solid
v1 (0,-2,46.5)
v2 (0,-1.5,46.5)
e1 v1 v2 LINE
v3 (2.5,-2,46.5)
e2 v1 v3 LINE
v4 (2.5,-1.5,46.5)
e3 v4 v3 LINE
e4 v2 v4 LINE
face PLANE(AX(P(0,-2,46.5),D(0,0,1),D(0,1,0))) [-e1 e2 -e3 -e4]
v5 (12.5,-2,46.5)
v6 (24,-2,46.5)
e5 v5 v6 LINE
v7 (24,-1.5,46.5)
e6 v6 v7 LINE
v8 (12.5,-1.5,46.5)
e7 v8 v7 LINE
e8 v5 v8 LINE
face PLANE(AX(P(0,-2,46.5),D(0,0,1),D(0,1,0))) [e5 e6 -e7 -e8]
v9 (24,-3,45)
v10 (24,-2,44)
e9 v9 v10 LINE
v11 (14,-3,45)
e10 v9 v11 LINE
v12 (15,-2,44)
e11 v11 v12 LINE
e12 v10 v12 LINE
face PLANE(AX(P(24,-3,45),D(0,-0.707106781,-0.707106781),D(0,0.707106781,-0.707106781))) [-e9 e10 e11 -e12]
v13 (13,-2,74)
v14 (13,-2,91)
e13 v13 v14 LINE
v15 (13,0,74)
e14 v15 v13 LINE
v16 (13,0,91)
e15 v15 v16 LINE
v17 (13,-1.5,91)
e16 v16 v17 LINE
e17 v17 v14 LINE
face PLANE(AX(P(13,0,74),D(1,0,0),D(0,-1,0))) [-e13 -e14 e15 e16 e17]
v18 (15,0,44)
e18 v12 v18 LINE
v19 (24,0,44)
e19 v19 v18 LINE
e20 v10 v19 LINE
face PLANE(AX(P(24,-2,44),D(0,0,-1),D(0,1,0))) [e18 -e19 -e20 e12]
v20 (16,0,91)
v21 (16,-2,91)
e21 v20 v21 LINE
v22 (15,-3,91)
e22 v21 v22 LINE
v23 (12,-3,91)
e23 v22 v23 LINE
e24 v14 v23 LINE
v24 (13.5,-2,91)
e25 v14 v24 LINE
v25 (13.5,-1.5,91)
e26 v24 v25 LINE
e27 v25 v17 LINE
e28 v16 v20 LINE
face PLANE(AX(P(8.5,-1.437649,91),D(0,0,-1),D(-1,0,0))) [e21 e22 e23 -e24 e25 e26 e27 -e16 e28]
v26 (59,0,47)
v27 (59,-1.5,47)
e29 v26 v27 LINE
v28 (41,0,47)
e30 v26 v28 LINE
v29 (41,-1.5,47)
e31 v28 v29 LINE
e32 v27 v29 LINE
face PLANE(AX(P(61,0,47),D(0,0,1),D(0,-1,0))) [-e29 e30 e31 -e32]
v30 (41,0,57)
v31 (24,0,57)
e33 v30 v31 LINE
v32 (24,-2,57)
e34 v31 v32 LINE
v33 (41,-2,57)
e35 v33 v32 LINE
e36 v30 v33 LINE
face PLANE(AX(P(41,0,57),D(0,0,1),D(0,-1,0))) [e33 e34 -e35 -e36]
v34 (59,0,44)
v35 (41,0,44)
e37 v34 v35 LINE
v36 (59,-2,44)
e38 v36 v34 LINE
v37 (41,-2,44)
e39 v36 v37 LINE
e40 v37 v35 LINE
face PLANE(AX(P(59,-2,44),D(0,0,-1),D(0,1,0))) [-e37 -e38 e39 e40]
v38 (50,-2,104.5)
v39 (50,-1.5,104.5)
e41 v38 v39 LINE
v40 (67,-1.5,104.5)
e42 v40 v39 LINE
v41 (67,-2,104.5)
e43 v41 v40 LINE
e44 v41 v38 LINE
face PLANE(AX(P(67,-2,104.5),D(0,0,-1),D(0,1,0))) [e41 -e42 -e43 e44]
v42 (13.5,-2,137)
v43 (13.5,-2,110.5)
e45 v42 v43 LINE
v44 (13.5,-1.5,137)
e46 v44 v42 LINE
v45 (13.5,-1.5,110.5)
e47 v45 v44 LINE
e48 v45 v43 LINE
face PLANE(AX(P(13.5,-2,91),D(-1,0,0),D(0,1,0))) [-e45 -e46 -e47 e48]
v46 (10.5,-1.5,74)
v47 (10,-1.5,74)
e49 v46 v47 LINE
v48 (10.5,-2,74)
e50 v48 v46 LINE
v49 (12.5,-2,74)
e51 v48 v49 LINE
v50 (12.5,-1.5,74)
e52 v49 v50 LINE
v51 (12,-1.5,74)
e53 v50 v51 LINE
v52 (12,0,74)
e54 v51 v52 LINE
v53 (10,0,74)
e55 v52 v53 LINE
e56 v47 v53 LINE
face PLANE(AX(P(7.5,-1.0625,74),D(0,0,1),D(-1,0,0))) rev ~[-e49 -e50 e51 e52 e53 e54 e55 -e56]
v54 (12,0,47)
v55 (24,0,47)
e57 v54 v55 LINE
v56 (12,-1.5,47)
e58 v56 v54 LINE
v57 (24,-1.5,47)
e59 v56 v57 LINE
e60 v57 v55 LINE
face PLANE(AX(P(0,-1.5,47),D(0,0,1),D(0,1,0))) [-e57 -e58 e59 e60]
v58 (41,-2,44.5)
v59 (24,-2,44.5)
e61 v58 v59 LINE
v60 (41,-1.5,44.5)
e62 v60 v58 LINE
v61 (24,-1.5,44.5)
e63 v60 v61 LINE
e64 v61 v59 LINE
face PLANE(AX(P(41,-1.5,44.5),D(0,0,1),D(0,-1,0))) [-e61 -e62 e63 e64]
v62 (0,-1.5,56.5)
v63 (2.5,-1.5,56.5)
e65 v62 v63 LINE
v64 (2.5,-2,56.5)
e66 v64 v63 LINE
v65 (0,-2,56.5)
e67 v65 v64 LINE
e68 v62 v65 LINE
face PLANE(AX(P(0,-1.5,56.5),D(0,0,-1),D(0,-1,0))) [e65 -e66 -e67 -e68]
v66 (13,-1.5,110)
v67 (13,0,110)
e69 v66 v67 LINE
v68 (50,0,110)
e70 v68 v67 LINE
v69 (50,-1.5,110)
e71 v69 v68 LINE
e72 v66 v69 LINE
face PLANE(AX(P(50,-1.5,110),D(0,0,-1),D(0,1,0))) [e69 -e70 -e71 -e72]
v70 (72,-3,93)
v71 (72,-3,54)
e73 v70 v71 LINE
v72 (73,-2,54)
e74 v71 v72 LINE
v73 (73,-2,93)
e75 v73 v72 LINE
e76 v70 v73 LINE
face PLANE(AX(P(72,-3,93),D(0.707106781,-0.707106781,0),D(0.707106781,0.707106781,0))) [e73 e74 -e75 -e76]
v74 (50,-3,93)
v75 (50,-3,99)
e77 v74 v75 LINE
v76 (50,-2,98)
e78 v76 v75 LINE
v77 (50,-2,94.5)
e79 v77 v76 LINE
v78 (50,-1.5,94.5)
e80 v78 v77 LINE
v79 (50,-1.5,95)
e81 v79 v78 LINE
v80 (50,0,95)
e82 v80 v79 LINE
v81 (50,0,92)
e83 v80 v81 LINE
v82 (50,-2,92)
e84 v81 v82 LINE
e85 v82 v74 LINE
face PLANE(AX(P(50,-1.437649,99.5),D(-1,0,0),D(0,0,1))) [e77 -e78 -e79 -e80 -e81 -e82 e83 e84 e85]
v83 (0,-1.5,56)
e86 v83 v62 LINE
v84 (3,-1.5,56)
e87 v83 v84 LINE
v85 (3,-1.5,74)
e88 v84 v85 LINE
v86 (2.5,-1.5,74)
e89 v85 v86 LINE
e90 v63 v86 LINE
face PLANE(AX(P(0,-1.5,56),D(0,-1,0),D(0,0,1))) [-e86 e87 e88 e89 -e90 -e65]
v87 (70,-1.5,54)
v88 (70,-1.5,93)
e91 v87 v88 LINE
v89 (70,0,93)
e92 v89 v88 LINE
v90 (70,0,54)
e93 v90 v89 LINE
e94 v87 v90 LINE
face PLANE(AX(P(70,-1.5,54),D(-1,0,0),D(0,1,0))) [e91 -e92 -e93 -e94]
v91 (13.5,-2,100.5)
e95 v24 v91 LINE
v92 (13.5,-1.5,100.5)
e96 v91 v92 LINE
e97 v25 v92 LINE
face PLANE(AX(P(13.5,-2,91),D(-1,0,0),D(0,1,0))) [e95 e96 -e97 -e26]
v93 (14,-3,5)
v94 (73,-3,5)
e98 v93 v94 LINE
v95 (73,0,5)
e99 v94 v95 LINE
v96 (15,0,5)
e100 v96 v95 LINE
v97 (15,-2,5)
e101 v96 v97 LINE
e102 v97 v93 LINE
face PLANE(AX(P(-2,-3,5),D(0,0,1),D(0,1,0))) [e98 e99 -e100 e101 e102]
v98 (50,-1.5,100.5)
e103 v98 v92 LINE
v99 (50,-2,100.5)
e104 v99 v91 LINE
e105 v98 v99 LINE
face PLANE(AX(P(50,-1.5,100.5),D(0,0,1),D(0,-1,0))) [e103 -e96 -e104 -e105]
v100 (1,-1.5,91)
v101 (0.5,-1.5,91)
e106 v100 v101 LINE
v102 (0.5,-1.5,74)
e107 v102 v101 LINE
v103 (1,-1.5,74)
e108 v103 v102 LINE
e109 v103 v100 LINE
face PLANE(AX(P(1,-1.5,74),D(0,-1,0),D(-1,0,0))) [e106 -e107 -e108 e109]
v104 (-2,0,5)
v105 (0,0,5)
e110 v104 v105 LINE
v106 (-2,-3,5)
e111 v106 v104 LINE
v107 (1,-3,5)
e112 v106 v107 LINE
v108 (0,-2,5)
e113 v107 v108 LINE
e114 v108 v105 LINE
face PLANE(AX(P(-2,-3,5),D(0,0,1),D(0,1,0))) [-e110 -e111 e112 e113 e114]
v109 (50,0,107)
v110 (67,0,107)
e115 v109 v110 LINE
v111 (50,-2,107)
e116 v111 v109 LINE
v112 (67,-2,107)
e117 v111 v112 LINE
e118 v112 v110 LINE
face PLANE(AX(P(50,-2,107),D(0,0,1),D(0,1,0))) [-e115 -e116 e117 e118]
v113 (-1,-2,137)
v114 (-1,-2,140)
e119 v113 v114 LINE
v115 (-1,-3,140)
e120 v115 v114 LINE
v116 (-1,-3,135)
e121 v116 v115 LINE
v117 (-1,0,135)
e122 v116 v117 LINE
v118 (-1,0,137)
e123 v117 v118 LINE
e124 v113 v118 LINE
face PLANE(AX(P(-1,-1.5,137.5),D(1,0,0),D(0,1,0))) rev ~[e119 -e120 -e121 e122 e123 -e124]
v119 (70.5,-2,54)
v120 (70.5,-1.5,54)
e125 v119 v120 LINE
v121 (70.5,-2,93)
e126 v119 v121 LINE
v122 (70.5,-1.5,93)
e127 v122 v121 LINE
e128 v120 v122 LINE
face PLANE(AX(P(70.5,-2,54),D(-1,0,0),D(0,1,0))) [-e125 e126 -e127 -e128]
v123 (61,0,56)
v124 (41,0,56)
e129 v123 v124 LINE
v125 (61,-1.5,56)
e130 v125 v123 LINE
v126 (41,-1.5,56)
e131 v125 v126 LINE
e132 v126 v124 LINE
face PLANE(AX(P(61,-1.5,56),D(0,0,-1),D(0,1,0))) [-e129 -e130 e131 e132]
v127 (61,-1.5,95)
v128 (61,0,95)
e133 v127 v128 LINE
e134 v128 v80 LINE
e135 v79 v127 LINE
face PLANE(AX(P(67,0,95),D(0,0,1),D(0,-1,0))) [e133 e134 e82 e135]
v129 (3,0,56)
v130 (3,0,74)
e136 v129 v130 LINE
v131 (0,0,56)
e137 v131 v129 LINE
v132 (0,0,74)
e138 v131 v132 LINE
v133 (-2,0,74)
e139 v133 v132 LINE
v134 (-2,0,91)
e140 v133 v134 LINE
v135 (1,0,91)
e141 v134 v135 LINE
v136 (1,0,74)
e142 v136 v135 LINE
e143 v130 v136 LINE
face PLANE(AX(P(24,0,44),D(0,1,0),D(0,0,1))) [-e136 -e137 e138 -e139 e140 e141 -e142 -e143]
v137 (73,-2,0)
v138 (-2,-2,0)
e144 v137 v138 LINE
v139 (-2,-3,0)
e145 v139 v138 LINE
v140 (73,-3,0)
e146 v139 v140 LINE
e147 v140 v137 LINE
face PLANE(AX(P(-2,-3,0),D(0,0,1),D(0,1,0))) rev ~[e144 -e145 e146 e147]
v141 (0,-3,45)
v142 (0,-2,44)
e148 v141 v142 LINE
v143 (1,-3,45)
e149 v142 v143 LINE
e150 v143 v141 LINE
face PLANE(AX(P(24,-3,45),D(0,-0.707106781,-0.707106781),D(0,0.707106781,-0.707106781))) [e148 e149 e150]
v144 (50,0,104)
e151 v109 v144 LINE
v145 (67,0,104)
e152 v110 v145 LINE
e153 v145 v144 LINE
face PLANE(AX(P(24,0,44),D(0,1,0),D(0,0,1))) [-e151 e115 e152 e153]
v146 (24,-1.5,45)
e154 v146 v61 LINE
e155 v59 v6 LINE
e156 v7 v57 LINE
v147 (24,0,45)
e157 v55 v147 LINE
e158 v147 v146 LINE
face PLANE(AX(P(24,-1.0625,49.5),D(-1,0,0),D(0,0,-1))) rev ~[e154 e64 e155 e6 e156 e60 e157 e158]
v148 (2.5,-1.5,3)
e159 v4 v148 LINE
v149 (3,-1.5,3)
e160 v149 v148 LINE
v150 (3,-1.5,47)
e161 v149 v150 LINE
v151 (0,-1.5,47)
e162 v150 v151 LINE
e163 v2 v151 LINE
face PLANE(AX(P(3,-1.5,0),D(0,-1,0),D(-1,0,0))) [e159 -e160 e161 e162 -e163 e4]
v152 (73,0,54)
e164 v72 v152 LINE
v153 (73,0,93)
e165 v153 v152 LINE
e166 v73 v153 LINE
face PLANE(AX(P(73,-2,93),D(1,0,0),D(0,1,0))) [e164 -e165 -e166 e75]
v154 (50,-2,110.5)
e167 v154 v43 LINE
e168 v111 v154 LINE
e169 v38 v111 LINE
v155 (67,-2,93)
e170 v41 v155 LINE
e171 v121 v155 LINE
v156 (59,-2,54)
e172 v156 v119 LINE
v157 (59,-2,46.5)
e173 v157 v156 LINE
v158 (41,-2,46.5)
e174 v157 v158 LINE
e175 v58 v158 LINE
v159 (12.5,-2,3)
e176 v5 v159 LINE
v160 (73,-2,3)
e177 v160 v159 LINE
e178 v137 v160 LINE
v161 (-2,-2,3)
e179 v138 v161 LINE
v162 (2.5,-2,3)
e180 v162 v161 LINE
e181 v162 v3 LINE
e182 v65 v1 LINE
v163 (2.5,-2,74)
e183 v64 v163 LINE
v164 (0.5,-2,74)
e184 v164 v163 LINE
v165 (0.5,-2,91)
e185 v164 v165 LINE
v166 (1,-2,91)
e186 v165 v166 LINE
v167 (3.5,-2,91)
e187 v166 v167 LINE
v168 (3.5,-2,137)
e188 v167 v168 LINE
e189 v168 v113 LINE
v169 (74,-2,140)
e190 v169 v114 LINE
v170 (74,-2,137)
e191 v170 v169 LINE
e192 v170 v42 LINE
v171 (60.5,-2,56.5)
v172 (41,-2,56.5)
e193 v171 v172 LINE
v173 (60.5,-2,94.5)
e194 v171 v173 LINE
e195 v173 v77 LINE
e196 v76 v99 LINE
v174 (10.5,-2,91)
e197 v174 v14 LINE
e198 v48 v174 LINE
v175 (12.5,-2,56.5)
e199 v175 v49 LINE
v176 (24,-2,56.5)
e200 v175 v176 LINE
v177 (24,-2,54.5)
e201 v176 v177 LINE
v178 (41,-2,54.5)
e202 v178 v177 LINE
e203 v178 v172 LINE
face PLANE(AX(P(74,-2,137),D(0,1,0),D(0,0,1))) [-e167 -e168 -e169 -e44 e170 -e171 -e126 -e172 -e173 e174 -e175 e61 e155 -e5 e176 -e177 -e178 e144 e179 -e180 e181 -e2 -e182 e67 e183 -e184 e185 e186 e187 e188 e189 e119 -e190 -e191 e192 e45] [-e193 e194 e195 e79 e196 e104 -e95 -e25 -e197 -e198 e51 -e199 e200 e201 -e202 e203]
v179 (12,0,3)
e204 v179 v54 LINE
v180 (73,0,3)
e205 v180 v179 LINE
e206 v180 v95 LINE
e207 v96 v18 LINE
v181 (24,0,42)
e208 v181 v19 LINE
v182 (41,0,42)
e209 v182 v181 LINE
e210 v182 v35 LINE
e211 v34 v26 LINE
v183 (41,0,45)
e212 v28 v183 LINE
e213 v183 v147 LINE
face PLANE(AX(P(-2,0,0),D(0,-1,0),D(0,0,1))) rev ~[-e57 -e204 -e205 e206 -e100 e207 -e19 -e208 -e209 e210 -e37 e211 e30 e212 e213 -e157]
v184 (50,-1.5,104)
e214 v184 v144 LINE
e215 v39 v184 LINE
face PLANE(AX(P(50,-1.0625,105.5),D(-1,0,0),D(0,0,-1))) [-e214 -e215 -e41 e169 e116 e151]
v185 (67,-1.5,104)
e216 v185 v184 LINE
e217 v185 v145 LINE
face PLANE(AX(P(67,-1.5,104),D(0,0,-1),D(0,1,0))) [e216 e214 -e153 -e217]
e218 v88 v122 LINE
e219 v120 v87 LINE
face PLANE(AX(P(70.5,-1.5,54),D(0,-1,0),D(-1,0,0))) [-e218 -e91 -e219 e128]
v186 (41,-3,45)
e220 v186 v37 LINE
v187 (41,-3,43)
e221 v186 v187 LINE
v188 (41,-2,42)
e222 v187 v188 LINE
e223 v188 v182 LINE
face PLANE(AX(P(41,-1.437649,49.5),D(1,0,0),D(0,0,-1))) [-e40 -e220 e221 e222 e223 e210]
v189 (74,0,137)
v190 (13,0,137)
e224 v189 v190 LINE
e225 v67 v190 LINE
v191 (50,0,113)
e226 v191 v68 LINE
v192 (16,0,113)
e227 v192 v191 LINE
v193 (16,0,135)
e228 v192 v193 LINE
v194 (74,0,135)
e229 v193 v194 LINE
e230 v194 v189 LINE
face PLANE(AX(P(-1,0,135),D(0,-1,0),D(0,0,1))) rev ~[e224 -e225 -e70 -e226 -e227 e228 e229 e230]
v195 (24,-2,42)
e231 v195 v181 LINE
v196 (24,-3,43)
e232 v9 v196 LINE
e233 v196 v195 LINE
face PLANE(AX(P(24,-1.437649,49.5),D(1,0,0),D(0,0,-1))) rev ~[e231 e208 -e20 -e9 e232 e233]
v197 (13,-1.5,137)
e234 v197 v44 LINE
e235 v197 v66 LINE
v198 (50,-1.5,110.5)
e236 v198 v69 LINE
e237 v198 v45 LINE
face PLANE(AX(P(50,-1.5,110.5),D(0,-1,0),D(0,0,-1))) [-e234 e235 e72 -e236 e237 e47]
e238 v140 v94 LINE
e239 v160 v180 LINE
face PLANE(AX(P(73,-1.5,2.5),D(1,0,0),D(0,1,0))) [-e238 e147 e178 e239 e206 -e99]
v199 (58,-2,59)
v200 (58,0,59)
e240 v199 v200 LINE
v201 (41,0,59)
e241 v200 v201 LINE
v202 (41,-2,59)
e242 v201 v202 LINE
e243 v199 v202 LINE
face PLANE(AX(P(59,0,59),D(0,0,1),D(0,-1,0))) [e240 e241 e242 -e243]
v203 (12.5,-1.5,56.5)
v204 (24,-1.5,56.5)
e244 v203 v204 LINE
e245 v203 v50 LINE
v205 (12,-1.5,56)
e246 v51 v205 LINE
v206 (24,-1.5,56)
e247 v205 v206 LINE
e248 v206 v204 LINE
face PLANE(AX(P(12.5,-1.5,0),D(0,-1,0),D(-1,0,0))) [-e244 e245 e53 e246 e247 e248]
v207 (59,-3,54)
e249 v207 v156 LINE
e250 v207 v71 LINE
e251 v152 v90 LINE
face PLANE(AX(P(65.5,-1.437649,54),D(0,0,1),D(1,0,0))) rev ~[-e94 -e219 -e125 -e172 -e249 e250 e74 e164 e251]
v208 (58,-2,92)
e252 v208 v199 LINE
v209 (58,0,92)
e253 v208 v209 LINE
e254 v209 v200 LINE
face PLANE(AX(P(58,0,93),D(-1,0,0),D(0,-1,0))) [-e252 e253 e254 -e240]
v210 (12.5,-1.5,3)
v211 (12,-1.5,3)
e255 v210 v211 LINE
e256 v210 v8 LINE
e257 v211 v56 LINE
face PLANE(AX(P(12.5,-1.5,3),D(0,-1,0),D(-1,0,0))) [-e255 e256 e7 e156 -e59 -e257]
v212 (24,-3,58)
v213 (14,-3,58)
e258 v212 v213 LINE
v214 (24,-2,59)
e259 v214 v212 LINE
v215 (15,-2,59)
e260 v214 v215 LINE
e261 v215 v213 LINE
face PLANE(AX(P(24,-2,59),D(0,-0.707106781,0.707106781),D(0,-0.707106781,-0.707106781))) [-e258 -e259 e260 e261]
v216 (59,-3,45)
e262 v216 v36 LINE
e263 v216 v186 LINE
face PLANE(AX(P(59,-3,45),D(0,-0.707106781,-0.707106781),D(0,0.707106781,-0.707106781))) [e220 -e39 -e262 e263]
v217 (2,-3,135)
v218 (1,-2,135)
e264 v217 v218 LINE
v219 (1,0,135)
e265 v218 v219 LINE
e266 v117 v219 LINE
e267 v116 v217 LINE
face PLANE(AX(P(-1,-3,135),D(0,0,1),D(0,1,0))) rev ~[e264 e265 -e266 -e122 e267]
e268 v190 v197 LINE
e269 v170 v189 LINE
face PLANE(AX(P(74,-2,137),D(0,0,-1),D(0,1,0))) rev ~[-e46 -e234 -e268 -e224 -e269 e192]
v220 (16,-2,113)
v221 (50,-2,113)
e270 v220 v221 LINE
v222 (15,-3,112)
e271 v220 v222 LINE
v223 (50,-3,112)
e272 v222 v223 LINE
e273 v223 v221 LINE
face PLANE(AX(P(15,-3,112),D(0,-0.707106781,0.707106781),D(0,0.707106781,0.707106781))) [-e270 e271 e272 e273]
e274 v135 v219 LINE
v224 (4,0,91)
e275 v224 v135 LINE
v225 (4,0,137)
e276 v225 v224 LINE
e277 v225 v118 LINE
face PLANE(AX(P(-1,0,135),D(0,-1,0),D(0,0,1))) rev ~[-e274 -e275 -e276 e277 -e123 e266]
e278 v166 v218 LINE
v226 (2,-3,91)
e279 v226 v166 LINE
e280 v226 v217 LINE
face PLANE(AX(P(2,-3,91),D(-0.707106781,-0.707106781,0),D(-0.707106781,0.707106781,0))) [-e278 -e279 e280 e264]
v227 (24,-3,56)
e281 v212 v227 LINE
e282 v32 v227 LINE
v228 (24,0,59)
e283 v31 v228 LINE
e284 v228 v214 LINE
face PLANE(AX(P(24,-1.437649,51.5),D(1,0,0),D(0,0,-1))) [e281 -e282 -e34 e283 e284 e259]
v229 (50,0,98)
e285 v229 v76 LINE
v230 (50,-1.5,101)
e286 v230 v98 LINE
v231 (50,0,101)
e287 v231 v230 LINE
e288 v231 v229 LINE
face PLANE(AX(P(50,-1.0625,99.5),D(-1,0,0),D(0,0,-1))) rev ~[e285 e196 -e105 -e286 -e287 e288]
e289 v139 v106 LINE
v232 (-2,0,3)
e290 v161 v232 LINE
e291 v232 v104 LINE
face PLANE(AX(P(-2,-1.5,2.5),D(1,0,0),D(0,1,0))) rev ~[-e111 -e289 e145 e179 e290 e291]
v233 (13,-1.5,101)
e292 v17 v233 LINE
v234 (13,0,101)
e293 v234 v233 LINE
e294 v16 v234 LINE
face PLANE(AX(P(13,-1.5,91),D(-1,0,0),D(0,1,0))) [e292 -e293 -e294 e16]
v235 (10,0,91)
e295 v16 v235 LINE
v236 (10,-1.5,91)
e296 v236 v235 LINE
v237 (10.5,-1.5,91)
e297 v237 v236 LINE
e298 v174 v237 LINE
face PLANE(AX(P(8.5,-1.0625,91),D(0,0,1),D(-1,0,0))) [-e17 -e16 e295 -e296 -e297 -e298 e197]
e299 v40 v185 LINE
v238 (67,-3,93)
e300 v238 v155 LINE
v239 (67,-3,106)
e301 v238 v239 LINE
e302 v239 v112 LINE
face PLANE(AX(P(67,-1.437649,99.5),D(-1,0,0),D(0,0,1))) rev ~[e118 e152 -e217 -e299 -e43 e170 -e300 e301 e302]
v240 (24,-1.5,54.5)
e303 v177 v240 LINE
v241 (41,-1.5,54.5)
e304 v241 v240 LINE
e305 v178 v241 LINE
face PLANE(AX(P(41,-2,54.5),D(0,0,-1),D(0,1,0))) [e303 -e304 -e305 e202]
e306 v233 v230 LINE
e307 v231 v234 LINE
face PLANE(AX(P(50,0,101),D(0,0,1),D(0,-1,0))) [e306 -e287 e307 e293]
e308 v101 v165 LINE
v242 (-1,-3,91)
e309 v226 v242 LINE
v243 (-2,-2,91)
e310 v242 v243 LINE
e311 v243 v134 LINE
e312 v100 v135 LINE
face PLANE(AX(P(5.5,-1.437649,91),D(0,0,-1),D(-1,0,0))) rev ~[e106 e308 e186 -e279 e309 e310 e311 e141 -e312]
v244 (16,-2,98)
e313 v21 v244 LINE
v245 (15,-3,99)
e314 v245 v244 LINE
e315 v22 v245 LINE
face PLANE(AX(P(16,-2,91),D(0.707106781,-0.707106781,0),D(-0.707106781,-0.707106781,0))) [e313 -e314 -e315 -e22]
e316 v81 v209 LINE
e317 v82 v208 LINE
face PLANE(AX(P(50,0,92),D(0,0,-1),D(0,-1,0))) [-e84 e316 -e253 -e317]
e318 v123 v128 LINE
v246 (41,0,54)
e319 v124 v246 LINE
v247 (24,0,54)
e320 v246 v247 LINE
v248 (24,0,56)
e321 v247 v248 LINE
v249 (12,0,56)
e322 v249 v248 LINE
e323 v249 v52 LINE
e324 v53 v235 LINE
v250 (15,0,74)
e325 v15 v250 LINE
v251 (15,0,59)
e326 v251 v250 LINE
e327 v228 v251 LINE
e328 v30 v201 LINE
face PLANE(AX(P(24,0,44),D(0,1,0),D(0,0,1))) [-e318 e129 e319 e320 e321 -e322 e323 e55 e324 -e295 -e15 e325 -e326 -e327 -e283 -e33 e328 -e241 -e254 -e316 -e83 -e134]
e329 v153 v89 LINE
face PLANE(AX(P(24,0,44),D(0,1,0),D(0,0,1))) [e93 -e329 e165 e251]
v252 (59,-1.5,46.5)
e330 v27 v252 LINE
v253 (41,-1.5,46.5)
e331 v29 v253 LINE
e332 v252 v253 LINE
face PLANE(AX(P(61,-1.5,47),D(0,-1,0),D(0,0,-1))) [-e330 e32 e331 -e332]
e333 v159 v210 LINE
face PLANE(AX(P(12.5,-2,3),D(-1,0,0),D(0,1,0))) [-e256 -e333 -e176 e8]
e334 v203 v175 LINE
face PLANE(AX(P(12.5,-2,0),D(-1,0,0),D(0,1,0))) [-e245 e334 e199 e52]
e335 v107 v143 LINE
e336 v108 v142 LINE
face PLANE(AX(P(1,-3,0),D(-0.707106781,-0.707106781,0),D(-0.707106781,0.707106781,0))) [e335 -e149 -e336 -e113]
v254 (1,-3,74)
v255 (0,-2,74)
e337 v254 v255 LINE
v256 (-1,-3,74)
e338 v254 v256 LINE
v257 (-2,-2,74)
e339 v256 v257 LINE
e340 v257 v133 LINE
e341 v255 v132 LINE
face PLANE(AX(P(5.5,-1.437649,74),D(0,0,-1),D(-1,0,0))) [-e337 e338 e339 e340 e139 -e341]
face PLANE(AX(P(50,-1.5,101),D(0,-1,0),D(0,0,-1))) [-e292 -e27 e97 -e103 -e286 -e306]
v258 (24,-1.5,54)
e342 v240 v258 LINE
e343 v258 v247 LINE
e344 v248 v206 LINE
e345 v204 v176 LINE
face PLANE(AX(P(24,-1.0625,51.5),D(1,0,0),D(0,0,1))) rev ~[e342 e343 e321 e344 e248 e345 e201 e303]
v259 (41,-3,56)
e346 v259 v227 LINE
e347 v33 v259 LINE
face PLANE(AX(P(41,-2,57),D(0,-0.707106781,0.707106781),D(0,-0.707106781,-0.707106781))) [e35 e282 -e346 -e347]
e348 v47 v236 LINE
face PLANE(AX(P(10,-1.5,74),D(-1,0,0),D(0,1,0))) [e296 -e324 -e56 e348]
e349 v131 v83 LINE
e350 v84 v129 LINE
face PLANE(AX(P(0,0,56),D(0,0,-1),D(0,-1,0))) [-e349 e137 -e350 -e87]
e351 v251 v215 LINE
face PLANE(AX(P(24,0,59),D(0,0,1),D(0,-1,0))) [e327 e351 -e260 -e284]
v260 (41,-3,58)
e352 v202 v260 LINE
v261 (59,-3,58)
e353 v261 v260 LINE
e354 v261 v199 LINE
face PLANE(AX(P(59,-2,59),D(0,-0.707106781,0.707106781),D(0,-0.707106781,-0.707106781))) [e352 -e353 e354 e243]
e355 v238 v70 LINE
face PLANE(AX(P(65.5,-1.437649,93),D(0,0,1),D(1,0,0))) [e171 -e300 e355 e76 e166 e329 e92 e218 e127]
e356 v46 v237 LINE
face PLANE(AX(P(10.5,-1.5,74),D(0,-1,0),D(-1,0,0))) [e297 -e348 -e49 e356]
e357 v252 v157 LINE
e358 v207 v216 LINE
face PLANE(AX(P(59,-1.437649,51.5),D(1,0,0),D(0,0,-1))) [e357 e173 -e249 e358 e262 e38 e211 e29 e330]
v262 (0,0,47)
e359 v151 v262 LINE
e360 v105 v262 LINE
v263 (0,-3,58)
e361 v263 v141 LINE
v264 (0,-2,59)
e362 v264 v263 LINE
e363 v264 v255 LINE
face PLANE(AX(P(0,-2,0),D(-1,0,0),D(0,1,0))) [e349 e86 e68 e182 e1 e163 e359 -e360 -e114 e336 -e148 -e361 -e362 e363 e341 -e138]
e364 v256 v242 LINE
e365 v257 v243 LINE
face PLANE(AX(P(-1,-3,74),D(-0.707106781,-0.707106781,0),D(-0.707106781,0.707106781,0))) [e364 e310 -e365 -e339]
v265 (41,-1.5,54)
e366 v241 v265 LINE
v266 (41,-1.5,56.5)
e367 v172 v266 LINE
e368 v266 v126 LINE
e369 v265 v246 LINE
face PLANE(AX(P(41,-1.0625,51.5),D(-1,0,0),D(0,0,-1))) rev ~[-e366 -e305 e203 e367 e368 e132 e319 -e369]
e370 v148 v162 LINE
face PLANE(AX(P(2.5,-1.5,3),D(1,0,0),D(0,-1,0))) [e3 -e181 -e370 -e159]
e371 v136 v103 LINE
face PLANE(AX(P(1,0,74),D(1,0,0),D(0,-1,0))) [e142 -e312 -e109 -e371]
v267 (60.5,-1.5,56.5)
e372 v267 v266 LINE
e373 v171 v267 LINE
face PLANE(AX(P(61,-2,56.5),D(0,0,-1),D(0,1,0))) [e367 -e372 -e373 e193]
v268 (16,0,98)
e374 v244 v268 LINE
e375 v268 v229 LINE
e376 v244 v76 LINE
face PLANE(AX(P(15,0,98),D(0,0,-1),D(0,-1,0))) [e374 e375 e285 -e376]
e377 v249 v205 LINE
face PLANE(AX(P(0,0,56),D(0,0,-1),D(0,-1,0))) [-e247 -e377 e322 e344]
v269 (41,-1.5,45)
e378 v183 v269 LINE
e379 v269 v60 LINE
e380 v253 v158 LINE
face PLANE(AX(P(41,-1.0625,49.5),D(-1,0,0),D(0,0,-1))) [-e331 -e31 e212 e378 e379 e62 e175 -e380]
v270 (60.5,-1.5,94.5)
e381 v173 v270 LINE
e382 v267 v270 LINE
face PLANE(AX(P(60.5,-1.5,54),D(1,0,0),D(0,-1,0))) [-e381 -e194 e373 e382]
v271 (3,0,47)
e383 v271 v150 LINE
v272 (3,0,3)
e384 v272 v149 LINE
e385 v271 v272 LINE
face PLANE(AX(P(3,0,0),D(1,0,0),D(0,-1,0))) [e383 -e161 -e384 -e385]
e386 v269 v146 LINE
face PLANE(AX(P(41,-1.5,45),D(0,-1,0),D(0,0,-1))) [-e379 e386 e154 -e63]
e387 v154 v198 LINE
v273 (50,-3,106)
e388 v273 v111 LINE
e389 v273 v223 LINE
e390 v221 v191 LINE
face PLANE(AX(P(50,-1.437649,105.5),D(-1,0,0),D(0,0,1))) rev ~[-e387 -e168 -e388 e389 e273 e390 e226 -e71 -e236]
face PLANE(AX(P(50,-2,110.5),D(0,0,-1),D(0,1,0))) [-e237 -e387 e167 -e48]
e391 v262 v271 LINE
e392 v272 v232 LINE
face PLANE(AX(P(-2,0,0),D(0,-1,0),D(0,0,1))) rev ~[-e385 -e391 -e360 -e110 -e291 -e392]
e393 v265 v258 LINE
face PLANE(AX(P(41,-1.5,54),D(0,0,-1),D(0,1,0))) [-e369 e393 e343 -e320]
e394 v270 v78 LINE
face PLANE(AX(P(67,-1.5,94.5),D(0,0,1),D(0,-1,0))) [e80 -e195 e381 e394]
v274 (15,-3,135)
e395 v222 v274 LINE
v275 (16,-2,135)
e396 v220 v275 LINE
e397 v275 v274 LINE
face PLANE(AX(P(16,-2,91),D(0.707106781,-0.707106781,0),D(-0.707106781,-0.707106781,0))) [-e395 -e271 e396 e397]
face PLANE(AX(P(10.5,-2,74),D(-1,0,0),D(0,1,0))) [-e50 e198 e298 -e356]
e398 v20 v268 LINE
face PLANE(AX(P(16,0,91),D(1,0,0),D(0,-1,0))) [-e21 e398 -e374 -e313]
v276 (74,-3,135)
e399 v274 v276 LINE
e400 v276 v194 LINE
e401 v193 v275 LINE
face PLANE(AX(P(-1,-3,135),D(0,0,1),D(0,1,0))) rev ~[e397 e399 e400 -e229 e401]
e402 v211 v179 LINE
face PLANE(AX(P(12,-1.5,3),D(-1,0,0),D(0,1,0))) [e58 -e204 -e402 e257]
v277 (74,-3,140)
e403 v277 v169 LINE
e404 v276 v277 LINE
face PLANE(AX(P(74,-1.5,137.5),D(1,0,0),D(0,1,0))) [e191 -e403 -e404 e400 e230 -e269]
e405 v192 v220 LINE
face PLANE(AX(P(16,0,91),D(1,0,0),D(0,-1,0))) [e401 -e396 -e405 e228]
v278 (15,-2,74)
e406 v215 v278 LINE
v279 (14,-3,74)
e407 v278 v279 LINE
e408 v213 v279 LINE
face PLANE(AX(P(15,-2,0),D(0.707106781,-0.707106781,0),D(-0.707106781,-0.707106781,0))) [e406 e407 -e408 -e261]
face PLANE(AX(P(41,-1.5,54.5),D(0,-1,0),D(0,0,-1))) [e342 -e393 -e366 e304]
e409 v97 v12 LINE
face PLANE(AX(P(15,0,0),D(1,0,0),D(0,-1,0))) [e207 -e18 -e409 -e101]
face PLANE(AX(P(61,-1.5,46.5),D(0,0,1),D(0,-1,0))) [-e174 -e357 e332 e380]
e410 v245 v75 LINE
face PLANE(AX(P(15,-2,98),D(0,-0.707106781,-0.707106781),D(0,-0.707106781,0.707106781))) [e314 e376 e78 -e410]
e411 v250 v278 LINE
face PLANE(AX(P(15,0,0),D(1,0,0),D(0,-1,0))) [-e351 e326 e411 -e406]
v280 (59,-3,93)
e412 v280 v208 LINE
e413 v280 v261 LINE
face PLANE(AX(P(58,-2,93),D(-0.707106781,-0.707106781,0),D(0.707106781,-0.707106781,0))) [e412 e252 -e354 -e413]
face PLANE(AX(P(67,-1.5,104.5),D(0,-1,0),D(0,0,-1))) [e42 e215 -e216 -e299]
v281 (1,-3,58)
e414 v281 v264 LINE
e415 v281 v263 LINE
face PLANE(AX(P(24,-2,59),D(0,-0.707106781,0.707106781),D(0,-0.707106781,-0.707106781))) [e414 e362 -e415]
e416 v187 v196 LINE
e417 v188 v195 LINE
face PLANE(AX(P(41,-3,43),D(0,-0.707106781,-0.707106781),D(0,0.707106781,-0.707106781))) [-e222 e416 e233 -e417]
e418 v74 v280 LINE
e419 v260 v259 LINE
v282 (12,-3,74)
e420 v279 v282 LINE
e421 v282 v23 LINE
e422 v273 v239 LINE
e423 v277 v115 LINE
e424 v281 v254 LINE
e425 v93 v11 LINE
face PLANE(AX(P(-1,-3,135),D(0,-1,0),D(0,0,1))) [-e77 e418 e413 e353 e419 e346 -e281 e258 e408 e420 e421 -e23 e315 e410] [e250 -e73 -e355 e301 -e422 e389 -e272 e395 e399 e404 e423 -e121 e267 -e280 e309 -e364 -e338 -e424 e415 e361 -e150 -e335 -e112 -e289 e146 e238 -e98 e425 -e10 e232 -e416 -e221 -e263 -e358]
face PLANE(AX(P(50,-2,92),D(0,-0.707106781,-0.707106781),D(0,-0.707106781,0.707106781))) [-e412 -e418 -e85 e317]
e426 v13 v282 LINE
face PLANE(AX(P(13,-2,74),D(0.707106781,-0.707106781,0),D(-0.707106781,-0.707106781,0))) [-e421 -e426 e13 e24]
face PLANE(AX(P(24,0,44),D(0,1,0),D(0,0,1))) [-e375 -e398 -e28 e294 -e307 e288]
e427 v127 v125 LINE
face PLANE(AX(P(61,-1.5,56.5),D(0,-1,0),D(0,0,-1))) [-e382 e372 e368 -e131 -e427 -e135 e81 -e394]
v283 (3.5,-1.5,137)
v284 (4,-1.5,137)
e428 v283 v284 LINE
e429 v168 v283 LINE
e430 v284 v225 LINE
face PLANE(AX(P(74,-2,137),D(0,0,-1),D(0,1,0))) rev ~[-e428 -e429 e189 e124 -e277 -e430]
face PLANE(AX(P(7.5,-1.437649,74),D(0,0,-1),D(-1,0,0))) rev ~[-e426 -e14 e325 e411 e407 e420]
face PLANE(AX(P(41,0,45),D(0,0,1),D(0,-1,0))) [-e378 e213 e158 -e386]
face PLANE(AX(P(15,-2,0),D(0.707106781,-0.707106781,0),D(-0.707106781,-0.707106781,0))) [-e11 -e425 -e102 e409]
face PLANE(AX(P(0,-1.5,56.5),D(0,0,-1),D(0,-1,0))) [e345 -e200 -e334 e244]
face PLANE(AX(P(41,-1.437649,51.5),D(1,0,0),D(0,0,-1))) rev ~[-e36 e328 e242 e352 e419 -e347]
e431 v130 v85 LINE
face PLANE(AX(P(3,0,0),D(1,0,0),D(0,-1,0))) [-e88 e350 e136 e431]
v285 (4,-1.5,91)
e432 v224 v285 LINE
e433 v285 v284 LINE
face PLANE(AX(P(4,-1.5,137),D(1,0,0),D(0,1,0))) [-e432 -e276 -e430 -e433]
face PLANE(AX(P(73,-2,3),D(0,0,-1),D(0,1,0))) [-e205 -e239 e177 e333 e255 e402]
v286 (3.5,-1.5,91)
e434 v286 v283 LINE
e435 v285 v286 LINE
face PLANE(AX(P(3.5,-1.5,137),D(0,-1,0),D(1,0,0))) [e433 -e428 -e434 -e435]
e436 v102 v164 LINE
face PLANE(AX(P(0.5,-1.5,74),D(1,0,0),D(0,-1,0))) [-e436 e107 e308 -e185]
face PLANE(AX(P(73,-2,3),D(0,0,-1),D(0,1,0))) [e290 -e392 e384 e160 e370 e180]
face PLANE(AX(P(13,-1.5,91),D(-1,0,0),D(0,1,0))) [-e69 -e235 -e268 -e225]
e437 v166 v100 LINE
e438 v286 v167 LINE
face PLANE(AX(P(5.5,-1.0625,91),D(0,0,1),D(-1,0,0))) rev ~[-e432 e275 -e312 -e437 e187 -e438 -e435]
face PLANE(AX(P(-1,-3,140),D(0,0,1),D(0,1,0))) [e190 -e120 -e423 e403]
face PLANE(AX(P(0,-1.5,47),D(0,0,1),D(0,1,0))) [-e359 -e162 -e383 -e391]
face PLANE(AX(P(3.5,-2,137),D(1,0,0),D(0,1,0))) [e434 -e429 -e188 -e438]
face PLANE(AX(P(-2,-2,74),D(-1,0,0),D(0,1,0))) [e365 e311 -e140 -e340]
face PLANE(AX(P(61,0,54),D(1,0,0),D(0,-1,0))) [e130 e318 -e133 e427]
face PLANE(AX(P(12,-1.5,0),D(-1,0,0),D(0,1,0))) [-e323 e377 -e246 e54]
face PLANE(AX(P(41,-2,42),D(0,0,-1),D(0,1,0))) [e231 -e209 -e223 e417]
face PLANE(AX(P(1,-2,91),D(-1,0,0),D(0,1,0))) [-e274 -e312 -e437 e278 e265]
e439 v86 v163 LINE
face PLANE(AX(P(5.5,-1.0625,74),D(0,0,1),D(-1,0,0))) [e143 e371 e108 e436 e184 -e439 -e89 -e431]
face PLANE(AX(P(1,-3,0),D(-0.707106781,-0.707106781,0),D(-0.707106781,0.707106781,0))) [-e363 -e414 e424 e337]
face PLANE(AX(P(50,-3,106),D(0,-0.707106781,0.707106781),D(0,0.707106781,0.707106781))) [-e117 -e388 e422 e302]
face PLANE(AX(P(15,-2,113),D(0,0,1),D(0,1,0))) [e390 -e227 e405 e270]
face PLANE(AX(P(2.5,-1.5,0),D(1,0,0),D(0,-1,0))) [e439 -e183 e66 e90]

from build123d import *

# Parameters (mm, degrees)
PAD_DEPTH       = 74
PAD001_DEPTH    = 17
PAD002_DEPTH    = 49
PAD003_DEPTH    = 35
PAD004_DEPTH    = 17
PAD005_DEPTH    = 39
PAD006_DEPTH    = 18
PAD007_DEPTH    = 17
PAD008_DEPTH    = 24
POCKET_DEPTH    = 74
POCKET001_DEPTH = 17
POCKET002_DEPTH = 49
POCKET003_DEPTH = 37
POCKET004_DEPTH = 17
POCKET005_DEPTH = 42
POCKET006_DEPTH = 20
POCKET007_DEPTH = 17
POCKET008_DEPTH = 24
SKETCH020_W     = 3
SKETCH020_H     = 5
PAD009_DEPTH    = 75
SKETCH021_W     = 2
SKETCH021_H     = 3
POCKET009_DEPTH = 75
POCKET010_DEPTH = 2
SKETCH023_W     = 3
SKETCH023_H     = 5
PAD010_DEPTH    = 75
SKETCH024_W     = 2
SKETCH024_H     = 3
POCKET011_DEPTH = 75
POCKET012_DEPTH = 3


with BuildPart() as part:
    # Sketch → Pad (new body)
    with BuildSketch(Plane.XY):
        Polygon((0, 0), (15, 0), (15, -2), (14, -3), (1, -3), (0, -2), align=None)
    extrude(amount=PAD_DEPTH)

    # Sketch002 (on Face8 of Pad) → Pad001 (join)
    with BuildSketch(Plane.XY.offset(74)):
        Polygon((-2, 0), (13, 0), (13, -2), (12, -3), (-1, -3), (-2, -2), align=None)
    extrude(amount=PAD001_DEPTH)

    # Sketch003 (on Face13 of Pad001) → Pad002 (join)
    with BuildSketch(Plane.XY.offset(91)):
        Polygon((1, 0), (16, 0), (16, -2), (15, -3), (2, -3), (1, -2), align=None)
    extrude(amount=PAD002_DEPTH)

    # Sketch004 (on Face21 of Pad002) → Pad003 (join)
    with BuildSketch(Plane(origin=(15, 0, 0), x_dir=(0, 0, -1), z_dir=(1, 0, 0))):
        Polygon((-113, 0), (-98, 0), (-98, -2), (-99, -3), (-112, -3), (-113, -2), align=None)
    extrude(amount=PAD003_DEPTH)

    # Sketch005 (on Face33 of Pad003) → Pad004 (join)
    with BuildSketch(Plane(origin=(50, 0, 0), x_dir=(0, 0, -1), z_dir=(1, 0, 0))):
        Polygon((-107, 0), (-92, 0), (-92, -2), (-93, -3), (-106, -3), (-107, -2), align=None)
    extrude(amount=PAD004_DEPTH)

    # Sketch006 (on Face38 of Pad004) → Pad005 (join)
    with BuildSketch(Plane(origin=(0, 0, 93), x_dir=(-1, 0, 0), z_dir=(0, 0, -1))):
        Polygon((-73, 0), (-58, 0), (-58, -2), (-59, -3), (-72, -3), (-73, -2), align=None)
    extrude(amount=PAD005_DEPTH)

    # Sketch007 (on Face45 of Pad005) → Pad006 (join)
    with BuildSketch(Plane.ZY.offset(-59)):
        Polygon((44, 0), (59, 0), (59, -2), (58, -3), (45, -3), (44, -2), align=None)
    extrude(amount=PAD006_DEPTH)

    # Sketch008 (on Face58 of Pad006) → Pad007 (join)
    with BuildSketch(Plane.ZY.offset(-41)):
        Polygon((42, 0), (57, 0), (57, -2), (56, -3), (43, -3), (42, -2), align=None)
    extrude(amount=PAD007_DEPTH)

    # Sketch009 (on Face66 of Pad007) → Pad008 (join)
    with BuildSketch(Plane.ZY.offset(-24)):
        Polygon((44, 0), (59, 0), (59, -2), (58, -3), (45, -3), (44, -2), align=None)
    extrude(amount=PAD008_DEPTH)

    # Sketch010 (on Face2 of Pad008) → Pocket (cut)
    with BuildSketch(Plane(origin=(0, 0, 0), x_dir=(1, 0, 0), z_dir=(0, 0, -1))):
        Polygon((2.5, 2), (12.5, 2), (12.5, 1.5), (12, 1.5), (12, 0), (3, 0), (3, 1.5), (2.5, 1.5), align=None)
    extrude(amount=-POCKET_DEPTH, mode=Mode.SUBTRACT)

    # Sketch012 (on Face38 of Pocket) → Pocket001 (cut)
    with BuildSketch(Plane(origin=(0, 0, 74), x_dir=(1, 0, 0), z_dir=(0, 0, -1))):
        Polygon((0.5, 2), (10.5, 2), (10.5, 1.5), (10, 1.5), (10, 0), (1, 0), (1, 1.5), (0.5, 1.5), align=None)
    extrude(amount=-POCKET001_DEPTH, mode=Mode.SUBTRACT)

    # Sketch013 (on Face68 of Pocket001) → Pocket002 (cut)
    with BuildSketch(Plane(origin=(0, 0, 91), x_dir=(1, 0, 0), z_dir=(0, 0, -1))):
        Polygon((3.5, 2), (13.5, 2), (13.5, 1.5), (13, 1.5), (13, 0), (4, 0), (4, 1.5), (3.5, 1.5), align=None)
    extrude(amount=-POCKET002_DEPTH, mode=Mode.SUBTRACT)

    # Sketch014 (on Face102 of Pocket002) → Pocket003 (cut)
    with BuildSketch(Plane(origin=(50, 0, 0), x_dir=(0, 0, 1), z_dir=(1, 0, 0))):
        Polygon((100.5, 2), (110.5, 2), (110.5, 1.5), (110, 1.5), (110, 0), (101, 0), (101, 1.5), (100.5, 1.5), align=None)
    extrude(amount=-POCKET003_DEPTH, mode=Mode.SUBTRACT)

    # Sketch015 (on Face132 of Pocket003) → Pocket004 (cut)
    with BuildSketch(Plane(origin=(67, 0, 0), x_dir=(0, 0, 1), z_dir=(1, 0, 0))):
        Polygon((94.5, 2), (104.5, 2), (104.5, 1.5), (104, 1.5), (104, 0), (95, 0), (95, 1.5), (94.5, 1.5), align=None)
    extrude(amount=-POCKET004_DEPTH, mode=Mode.SUBTRACT)

    # Sketch016 (on Face132 of Pocket004) → Pocket005 (cut)
    with BuildSketch(Plane(origin=(0, 0, 54), x_dir=(1, 0, 0), z_dir=(0, 0, -1))):
        Polygon((60.5, 2), (70.5, 2), (70.5, 1.5), (70, 1.5), (70, 0), (61, 0), (61, 1.5), (60.5, 1.5), align=None)
    extrude(amount=-POCKET005_DEPTH, mode=Mode.SUBTRACT)

    # Sketch017 (on Face115 of Pocket005) → Pocket006 (cut)
    with BuildSketch(Plane(origin=(61, 0, 0), x_dir=(0, 0, 1), z_dir=(1, 0, 0))):
        Polygon((46.5, 2), (56.5, 2), (56.5, 1.5), (56, 1.5), (56, 0), (47, 0), (47, 1.5), (46.5, 1.5), align=None)
    extrude(amount=-POCKET006_DEPTH, mode=Mode.SUBTRACT)

    # Sketch018 (on Face90 of Pocket006) → Pocket007 (cut)
    with BuildSketch(Plane(origin=(41, 0, 0), x_dir=(0, 0, 1), z_dir=(1, 0, 0))):
        Polygon((44.5, 2), (54.5, 2), (54.5, 1.5), (54, 1.5), (54, 0), (45, 0), (45, 1.5), (44.5, 1.5), align=None)
    extrude(amount=-POCKET007_DEPTH, mode=Mode.SUBTRACT)

    # Sketch019 (on Face19 of Pocket007) → Pocket008 (cut)
    with BuildSketch(Plane(origin=(0, 0, 0), x_dir=(0, 0, -1), z_dir=(-1, 0, 0))):
        Polygon((-56.5, 2), (-46.5, 2), (-46.5, 1.5), (-47, 1.5), (-47, 0), (-56, 0), (-56, 1.5), (-56.5, 1.5), align=None)
    extrude(amount=-POCKET008_DEPTH, mode=Mode.SUBTRACT)

    # Sketch020 (on Face13 of Pocket008) → Pad009 (join)
    with BuildSketch(Plane.YZ.offset(-2)):
        with Locations((-1.5, 2.5)):
            Rectangle(SKETCH020_W, SKETCH020_H)
    extrude(amount=PAD009_DEPTH)

    # Sketch021 (on Face20 of Pad009) → Pocket009 (cut)
    with BuildSketch(Plane.YZ.offset(73)):
        with Locations((-1, 1.5)):
            Rectangle(SKETCH021_W, SKETCH021_H)
    extrude(amount=-POCKET009_DEPTH, mode=Mode.SUBTRACT)

    # Sketch022 (on Face2 of Pocket009) → Pocket010 (cut)
    with BuildSketch(Plane(origin=(0, 0, 3), x_dir=(1, 0, 0), z_dir=(0, 0, -1))):
        Polygon((2.5, 2), (12.5, 2), (12.5, 1.5), (12, 1.5), (12, 0), (3, 0), (3, 1.5), (2.5, 1.5), align=None)
    extrude(amount=-POCKET010_DEPTH, mode=Mode.SUBTRACT)

    # Sketch023 (on Face185 of Pocket010) → Pad010 (join)
    with BuildSketch(Plane.YZ.offset(-1)):
        with Locations((-1.5, 137.5)):
            Rectangle(SKETCH023_W, SKETCH023_H)
    extrude(amount=PAD010_DEPTH)

    # Sketch024 (on Face226 of Pad010) → Pocket011 (cut)
    with BuildSketch(Plane.YZ.offset(74)):
        with Locations((-1, 138.5)):
            Rectangle(SKETCH024_W, SKETCH024_H)
    extrude(amount=-POCKET011_DEPTH, mode=Mode.SUBTRACT)

    # Sketch025 (on Face209 of Pocket011) → Pocket012 (cut)
    with BuildSketch(Plane(origin=(0, 0, 137), x_dir=(-1, 0, 0), z_dir=(0, 0, 1))):
        Polygon((-13.5, 2), (-3.5, 2), (-3.5, 1.5), (-4, 1.5), (-4, 0), (-13, 0), (-13, 1.5), (-13.5, 1.5), align=None)
    extrude(amount=-POCKET012_DEPTH, mode=Mode.SUBTRACT)


solid = part.part
